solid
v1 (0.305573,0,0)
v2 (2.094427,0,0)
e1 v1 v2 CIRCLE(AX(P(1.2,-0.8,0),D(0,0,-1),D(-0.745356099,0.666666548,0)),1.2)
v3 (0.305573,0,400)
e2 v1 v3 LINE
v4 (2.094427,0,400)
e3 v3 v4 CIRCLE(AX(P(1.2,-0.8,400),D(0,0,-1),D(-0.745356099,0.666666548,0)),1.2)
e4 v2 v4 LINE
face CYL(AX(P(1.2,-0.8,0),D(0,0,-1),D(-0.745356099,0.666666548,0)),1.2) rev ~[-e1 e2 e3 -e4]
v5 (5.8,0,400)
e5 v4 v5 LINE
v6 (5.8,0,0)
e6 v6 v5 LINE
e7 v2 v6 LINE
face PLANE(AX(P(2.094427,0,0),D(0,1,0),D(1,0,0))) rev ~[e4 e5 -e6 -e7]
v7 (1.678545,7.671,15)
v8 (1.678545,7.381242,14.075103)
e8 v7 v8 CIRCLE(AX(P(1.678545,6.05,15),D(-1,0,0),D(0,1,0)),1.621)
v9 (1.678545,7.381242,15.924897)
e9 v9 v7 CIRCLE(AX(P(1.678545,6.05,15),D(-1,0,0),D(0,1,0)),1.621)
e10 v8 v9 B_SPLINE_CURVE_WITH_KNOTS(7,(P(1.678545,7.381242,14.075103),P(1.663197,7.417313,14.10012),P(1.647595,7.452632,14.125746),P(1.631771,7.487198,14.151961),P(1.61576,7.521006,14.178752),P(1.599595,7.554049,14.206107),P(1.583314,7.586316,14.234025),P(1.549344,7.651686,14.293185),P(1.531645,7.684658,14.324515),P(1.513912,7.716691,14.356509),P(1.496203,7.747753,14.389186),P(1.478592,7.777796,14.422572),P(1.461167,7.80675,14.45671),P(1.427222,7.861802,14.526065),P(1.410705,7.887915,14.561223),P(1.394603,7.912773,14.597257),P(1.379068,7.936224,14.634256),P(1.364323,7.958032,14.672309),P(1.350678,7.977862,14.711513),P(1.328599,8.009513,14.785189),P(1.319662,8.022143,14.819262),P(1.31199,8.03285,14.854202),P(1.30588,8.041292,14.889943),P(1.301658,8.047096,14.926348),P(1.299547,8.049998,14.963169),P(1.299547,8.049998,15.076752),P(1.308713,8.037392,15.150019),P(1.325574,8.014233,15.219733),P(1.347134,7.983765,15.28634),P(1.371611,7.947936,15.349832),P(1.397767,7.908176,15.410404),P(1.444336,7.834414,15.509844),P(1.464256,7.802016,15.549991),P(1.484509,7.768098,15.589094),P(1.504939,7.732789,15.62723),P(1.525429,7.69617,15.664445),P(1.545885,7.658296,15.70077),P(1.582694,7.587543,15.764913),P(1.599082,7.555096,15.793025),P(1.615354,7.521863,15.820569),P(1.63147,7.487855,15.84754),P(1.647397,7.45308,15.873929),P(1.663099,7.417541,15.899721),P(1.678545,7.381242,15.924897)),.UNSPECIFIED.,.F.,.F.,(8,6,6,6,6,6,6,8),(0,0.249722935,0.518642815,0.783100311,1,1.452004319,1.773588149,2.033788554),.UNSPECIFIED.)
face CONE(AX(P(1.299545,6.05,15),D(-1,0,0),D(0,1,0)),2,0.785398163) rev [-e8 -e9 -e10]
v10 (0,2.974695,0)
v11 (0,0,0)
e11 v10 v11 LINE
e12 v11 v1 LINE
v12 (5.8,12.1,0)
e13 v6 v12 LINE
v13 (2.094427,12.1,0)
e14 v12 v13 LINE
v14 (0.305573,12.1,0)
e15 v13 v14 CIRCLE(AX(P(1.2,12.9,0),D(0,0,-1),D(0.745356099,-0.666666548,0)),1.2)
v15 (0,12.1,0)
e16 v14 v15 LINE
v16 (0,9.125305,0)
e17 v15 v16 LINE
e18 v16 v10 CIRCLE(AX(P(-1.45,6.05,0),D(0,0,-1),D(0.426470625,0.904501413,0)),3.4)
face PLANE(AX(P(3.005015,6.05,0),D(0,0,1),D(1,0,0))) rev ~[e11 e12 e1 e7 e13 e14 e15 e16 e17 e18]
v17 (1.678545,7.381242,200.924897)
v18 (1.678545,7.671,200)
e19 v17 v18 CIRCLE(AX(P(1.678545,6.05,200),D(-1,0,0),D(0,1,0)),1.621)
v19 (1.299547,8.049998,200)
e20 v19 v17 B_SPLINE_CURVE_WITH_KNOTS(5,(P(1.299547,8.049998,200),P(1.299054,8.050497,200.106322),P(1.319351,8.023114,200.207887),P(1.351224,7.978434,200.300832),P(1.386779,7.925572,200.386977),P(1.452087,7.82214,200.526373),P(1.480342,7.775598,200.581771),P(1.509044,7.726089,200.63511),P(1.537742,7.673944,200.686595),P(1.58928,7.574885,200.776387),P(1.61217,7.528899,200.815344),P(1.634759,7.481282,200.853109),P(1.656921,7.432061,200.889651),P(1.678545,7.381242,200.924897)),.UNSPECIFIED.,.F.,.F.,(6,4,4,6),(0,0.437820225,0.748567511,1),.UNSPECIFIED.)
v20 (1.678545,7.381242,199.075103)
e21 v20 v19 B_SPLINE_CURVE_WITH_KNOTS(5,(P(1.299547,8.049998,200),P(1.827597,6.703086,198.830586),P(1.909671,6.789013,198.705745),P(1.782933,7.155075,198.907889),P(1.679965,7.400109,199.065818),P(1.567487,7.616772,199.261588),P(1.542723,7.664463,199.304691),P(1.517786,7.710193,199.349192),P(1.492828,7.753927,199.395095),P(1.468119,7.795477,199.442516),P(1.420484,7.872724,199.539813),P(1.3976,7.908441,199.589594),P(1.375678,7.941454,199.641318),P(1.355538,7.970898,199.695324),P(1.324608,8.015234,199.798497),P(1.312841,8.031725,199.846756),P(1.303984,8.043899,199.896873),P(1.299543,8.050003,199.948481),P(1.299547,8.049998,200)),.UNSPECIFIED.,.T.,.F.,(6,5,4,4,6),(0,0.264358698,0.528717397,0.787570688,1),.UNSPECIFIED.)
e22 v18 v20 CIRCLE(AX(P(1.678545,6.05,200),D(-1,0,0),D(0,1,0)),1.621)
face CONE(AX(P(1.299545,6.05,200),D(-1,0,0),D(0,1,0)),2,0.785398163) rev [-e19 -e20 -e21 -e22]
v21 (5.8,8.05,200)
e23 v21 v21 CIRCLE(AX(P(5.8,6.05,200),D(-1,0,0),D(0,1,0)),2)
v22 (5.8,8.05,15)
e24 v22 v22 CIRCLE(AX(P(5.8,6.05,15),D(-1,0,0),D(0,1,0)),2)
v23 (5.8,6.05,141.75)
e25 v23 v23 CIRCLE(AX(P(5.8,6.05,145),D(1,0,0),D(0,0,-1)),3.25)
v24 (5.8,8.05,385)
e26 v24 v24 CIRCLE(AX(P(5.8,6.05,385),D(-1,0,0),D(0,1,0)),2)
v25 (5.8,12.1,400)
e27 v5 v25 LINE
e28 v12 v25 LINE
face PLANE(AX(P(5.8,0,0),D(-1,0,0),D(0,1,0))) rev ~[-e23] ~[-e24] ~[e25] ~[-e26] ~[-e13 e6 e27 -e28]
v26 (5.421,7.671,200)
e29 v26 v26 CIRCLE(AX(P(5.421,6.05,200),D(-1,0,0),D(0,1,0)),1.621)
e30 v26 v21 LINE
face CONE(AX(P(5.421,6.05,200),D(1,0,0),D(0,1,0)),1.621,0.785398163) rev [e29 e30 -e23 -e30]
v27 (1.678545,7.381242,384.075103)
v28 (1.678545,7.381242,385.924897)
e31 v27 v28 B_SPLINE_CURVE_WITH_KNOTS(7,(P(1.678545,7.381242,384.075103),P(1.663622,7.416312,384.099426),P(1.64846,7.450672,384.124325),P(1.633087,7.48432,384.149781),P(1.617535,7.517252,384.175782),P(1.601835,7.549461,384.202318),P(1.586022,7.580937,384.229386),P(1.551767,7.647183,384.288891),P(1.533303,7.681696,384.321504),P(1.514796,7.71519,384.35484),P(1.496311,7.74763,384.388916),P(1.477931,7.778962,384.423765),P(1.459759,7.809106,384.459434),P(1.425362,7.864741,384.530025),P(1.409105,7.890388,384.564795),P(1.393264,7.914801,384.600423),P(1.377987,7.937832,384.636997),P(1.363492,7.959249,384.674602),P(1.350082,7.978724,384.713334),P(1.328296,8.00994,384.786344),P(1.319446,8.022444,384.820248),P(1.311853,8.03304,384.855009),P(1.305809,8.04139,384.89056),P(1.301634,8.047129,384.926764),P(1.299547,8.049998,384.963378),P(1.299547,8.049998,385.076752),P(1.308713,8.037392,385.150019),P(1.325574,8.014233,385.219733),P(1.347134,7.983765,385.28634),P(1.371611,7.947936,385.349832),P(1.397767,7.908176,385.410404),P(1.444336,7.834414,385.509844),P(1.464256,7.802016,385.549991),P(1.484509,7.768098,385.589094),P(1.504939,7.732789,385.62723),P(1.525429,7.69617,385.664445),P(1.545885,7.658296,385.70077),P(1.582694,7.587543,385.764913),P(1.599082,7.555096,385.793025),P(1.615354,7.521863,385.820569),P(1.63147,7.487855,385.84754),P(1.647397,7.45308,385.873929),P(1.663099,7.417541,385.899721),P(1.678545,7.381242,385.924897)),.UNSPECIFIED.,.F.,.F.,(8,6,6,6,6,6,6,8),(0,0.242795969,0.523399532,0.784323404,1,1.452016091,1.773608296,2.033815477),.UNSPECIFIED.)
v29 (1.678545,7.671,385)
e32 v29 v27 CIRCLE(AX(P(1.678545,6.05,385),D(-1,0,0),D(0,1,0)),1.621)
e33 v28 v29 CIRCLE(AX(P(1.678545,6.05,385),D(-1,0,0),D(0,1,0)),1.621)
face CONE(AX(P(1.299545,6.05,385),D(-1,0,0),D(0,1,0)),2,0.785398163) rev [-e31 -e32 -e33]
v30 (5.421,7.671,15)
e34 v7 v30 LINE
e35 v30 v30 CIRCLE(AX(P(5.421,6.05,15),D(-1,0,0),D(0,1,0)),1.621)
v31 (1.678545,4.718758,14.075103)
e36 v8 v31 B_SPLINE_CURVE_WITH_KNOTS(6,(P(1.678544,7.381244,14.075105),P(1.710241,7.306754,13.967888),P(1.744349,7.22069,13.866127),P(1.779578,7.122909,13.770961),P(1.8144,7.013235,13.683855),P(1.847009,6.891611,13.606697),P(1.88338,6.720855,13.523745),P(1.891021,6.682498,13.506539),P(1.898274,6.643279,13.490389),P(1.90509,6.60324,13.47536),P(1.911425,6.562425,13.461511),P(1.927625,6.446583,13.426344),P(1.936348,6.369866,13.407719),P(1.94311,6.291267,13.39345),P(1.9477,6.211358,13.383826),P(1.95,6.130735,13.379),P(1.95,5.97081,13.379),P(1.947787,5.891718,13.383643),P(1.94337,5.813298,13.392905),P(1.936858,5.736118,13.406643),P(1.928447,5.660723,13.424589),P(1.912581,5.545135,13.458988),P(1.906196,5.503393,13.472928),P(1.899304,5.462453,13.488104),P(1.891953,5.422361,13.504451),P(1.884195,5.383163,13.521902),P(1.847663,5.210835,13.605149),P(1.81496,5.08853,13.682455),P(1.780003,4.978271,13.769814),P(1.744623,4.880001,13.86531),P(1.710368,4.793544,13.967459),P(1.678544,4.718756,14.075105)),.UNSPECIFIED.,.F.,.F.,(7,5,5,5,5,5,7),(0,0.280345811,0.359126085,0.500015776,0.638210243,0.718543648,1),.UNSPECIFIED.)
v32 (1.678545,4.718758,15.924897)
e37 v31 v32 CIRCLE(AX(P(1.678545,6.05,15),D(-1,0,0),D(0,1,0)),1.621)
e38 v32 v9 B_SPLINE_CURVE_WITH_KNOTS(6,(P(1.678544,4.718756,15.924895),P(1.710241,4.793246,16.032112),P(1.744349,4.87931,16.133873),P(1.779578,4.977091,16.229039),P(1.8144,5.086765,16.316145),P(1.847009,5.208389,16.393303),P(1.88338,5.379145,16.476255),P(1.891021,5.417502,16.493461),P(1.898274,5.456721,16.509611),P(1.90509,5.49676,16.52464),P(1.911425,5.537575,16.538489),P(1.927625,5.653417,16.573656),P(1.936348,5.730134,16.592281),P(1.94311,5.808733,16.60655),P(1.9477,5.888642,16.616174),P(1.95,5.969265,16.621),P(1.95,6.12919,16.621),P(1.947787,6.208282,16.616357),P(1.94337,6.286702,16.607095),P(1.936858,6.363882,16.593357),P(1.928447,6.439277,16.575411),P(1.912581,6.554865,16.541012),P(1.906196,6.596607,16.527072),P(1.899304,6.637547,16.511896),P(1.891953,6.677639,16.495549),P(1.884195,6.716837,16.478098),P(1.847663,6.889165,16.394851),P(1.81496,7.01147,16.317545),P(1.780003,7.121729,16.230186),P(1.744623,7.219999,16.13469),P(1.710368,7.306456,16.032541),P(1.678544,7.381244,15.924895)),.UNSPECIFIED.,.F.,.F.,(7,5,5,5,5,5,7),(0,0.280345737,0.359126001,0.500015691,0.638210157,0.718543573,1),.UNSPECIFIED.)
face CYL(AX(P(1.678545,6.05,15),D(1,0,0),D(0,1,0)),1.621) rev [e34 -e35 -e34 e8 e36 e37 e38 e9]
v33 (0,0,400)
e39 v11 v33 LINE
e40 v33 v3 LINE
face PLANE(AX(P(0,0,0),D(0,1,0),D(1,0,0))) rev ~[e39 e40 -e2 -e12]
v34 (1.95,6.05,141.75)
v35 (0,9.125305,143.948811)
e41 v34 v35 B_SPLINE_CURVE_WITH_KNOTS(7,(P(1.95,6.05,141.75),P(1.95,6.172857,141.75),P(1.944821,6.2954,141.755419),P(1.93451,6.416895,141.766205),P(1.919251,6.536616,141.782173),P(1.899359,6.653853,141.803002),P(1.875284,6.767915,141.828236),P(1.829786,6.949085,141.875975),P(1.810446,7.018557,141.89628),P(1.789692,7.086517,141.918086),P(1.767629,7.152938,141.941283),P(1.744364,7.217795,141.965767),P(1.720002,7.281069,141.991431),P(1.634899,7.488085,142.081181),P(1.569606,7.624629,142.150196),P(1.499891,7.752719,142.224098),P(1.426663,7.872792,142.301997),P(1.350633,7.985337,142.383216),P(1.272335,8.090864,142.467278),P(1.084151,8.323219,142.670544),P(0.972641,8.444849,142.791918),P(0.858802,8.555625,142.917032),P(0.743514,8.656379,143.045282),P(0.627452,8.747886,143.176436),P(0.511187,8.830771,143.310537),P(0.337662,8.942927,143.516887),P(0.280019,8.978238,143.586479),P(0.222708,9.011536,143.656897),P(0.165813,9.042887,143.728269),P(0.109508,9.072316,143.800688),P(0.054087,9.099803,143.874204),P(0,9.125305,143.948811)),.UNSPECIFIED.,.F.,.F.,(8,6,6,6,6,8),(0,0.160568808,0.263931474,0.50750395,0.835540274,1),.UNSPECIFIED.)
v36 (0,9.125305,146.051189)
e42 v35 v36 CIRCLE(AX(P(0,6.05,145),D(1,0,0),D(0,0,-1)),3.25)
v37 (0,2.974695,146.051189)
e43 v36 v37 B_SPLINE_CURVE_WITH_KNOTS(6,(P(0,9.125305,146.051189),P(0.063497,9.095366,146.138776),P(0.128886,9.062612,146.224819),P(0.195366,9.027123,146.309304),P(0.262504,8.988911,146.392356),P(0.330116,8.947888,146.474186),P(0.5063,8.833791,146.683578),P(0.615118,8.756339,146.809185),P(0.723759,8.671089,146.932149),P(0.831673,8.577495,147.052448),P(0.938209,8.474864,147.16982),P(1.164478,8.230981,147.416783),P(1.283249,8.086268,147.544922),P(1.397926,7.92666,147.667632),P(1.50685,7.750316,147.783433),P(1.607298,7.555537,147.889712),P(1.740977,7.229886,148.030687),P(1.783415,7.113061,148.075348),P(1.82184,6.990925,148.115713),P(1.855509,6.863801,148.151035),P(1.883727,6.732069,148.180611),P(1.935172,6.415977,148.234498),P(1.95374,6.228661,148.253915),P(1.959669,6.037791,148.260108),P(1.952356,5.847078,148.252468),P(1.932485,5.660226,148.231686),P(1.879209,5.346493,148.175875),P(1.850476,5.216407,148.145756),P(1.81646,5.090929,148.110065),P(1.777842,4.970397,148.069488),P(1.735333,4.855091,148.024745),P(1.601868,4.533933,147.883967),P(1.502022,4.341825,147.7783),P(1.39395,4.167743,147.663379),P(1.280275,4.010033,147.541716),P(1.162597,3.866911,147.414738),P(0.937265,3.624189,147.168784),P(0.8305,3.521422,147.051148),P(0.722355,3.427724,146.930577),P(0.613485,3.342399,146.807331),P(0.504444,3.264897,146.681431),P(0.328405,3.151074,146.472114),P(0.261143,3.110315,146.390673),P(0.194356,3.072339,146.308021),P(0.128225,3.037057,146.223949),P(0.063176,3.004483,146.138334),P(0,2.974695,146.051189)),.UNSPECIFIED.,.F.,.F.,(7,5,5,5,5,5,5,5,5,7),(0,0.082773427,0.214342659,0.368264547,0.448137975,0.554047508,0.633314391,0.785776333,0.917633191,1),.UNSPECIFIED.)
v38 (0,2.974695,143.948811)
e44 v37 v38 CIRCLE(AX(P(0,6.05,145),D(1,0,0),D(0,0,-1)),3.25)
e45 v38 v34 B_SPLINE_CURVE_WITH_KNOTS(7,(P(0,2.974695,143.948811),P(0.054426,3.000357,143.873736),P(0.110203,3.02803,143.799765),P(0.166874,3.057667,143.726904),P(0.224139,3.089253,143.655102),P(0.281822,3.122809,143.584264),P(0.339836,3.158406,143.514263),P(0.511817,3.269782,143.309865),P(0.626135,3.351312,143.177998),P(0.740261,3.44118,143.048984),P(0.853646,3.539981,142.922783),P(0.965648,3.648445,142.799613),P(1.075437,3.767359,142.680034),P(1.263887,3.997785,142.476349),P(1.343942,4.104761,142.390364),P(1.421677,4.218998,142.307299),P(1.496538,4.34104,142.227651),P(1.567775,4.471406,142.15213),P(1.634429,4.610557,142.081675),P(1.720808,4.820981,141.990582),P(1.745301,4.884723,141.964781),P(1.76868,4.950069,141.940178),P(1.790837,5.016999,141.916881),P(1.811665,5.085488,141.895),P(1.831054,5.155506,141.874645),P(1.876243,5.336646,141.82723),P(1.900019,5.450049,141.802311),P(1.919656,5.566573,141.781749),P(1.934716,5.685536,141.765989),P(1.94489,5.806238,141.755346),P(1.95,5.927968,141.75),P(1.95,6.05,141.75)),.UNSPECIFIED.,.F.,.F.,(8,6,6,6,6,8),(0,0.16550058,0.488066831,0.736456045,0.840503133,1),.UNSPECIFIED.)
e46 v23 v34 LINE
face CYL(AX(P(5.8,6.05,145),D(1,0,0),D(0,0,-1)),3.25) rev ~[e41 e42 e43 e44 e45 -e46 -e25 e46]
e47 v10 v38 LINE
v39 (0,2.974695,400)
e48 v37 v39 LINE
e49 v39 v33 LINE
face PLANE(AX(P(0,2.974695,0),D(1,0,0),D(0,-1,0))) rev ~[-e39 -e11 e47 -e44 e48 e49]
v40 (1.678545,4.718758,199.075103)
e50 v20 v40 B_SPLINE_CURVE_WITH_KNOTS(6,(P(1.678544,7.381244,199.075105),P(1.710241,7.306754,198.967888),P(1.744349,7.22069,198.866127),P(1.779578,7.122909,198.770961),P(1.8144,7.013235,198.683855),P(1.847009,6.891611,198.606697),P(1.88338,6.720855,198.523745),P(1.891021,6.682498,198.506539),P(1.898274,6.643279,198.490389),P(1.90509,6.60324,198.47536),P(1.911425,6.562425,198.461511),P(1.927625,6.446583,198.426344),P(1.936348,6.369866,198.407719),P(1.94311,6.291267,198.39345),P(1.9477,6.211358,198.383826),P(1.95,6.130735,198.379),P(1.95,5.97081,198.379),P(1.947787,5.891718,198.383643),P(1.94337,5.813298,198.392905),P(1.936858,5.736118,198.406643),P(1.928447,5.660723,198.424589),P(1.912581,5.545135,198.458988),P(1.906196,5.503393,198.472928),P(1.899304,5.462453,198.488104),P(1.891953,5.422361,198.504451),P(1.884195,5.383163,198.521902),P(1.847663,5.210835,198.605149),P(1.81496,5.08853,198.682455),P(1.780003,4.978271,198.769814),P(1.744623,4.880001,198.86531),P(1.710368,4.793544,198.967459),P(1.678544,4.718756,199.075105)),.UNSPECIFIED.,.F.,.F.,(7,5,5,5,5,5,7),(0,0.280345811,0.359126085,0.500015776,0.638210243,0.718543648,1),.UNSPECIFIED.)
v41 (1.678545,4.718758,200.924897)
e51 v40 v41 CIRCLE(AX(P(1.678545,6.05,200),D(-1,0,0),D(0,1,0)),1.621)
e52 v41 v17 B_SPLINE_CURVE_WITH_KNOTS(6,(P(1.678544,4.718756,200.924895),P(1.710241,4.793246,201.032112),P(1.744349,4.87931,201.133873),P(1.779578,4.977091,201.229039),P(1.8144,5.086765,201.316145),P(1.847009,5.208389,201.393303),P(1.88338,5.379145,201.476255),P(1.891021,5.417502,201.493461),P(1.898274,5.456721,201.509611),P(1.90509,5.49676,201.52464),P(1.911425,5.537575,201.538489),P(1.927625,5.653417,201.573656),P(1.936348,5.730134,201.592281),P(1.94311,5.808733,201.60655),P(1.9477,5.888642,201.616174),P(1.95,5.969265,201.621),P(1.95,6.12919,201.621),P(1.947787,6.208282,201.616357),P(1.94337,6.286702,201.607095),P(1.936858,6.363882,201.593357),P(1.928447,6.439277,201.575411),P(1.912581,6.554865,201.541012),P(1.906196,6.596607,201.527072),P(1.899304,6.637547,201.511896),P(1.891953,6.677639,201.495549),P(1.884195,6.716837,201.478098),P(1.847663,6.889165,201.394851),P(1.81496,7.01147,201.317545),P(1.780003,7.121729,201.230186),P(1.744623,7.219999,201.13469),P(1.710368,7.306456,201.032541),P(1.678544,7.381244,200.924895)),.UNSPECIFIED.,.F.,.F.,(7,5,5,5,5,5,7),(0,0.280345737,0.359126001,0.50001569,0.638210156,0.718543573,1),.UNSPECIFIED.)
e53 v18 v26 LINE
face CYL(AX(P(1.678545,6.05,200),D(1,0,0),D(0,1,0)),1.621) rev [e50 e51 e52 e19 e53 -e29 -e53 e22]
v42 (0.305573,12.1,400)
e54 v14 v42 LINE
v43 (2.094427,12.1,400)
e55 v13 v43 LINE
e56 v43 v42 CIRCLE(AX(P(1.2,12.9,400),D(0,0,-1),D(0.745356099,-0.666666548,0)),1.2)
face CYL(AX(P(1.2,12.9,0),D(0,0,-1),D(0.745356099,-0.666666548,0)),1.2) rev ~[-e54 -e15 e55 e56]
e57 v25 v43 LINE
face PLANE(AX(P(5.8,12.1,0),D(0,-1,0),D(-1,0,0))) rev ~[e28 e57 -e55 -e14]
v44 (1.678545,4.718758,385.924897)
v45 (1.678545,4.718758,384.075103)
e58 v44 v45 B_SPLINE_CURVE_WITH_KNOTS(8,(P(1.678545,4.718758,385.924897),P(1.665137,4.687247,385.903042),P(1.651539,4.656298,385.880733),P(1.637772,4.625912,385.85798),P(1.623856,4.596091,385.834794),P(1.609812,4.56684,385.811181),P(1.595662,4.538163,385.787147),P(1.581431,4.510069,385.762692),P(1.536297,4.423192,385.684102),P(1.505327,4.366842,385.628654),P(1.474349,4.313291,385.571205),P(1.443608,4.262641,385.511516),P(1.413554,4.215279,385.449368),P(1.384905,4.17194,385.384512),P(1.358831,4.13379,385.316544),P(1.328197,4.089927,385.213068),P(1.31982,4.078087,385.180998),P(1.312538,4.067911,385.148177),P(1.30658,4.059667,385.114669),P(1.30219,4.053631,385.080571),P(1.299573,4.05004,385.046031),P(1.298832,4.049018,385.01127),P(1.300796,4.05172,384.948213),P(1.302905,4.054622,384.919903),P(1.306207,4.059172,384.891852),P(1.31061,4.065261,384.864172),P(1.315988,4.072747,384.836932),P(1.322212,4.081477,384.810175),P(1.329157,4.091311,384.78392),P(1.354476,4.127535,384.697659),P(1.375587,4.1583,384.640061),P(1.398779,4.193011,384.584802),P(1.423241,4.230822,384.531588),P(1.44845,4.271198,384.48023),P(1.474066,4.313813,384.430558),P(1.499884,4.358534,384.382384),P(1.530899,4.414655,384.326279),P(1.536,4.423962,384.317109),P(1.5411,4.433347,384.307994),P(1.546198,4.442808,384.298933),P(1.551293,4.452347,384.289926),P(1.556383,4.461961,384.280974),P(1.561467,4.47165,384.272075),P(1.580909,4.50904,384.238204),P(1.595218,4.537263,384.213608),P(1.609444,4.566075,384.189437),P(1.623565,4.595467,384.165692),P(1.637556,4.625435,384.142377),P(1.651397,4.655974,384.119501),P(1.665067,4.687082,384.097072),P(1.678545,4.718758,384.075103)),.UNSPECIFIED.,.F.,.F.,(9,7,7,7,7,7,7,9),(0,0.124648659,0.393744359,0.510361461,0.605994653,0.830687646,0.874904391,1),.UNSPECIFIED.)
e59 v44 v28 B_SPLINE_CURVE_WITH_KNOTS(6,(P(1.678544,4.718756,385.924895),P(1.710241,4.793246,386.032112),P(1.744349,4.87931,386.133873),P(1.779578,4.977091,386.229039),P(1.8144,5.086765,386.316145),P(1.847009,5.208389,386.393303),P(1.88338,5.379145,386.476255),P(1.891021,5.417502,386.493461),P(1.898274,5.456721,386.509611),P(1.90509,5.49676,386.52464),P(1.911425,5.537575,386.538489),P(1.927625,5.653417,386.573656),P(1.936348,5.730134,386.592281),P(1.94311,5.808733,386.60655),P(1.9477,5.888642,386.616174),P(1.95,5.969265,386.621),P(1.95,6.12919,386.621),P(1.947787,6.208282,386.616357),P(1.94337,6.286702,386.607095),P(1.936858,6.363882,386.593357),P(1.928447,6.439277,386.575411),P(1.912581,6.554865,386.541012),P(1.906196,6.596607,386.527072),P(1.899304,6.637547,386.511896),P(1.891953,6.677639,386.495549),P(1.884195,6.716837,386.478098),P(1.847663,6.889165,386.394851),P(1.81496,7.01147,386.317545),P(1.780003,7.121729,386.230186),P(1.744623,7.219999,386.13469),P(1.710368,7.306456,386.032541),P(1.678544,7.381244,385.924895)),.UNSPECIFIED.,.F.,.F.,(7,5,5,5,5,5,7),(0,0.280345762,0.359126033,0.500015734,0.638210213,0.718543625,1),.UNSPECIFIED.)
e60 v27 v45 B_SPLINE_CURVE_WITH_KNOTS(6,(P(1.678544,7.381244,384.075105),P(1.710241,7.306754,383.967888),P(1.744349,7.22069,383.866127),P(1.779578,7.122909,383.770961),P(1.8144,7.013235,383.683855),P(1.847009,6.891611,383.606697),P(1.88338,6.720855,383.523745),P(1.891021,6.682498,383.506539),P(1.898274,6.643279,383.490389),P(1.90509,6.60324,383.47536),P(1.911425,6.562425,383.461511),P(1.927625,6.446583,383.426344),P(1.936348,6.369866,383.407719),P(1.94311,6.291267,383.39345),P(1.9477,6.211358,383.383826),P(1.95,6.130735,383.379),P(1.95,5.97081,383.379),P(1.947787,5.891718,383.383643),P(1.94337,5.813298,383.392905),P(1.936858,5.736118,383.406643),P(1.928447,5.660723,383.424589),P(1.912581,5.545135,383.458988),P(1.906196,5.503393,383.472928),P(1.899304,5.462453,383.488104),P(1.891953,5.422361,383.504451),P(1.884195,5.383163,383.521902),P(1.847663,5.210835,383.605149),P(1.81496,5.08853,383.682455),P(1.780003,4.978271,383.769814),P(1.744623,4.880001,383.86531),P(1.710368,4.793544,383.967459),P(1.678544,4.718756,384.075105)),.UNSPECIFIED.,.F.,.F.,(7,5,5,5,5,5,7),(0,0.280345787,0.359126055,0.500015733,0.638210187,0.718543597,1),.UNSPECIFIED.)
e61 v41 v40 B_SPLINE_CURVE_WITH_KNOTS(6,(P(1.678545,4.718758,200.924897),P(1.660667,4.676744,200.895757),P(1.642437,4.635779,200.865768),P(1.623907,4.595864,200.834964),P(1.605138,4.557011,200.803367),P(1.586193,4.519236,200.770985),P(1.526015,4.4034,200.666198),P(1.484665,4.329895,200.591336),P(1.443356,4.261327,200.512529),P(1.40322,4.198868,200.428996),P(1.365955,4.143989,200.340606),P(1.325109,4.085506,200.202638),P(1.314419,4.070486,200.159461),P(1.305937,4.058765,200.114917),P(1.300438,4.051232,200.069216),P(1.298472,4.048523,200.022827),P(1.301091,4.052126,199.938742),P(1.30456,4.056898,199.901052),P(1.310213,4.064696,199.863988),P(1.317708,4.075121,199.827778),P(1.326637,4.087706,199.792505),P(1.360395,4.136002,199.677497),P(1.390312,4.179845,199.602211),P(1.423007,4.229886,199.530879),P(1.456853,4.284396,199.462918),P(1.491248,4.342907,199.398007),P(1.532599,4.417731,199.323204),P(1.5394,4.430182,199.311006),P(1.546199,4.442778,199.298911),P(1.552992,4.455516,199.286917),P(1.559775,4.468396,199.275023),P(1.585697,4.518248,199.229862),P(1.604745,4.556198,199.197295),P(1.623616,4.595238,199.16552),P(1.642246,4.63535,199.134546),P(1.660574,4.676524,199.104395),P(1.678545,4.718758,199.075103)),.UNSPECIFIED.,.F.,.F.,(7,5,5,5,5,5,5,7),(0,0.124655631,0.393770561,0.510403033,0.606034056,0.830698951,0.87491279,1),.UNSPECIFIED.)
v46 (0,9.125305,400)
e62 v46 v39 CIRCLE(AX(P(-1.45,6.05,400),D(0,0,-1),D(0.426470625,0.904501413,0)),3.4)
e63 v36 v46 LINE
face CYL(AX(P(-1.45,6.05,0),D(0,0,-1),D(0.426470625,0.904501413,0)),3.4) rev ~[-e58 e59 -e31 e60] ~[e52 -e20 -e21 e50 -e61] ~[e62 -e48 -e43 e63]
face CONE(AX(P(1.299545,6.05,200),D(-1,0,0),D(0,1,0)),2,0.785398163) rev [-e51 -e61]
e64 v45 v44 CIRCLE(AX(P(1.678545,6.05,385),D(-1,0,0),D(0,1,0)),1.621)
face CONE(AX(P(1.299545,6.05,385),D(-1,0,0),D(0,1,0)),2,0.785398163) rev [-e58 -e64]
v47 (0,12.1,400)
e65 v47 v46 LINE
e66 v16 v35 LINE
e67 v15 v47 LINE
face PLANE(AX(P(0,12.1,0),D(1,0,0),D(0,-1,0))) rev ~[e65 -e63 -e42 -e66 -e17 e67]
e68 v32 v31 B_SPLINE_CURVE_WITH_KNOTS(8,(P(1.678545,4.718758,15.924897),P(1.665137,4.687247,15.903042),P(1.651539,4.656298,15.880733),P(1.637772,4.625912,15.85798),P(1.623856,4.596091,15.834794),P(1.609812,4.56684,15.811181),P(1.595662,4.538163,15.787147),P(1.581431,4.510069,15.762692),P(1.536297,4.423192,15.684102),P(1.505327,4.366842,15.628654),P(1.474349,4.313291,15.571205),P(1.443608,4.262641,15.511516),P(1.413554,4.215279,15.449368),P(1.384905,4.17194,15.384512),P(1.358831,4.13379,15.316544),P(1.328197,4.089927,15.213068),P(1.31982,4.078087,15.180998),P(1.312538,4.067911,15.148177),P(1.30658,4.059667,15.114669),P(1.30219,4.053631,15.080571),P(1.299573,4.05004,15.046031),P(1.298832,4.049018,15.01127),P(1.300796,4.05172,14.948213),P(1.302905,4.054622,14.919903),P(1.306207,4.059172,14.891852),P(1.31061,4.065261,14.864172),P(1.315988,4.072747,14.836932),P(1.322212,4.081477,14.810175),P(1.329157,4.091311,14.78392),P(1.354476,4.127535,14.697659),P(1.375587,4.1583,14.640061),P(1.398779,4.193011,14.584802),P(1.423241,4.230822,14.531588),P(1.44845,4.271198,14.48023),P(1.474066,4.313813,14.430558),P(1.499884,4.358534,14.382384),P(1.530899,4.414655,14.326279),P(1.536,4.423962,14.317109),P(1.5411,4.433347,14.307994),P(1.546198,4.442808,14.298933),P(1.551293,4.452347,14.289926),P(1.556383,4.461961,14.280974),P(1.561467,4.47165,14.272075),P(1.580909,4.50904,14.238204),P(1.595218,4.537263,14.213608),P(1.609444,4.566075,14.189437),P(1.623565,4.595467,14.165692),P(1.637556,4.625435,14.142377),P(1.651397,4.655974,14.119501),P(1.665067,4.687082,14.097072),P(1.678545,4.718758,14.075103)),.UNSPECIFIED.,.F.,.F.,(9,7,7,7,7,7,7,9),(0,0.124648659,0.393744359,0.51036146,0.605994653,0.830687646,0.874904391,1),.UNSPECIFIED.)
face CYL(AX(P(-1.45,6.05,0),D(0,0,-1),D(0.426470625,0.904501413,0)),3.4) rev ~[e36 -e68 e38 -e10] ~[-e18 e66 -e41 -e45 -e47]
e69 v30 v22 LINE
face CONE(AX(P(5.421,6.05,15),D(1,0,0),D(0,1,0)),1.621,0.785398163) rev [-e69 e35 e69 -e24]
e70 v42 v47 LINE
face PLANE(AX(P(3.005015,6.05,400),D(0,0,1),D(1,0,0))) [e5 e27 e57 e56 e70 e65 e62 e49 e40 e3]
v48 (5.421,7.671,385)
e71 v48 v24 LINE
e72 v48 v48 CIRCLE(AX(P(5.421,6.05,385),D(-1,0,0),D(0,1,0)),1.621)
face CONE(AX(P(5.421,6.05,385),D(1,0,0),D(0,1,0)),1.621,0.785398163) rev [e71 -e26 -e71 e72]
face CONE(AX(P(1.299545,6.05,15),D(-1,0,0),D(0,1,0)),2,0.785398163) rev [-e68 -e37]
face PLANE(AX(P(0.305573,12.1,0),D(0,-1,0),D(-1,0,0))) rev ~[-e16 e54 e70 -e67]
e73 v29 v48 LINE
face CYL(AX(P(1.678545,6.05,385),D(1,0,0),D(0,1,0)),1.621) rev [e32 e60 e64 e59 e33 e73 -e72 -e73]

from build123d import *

# Parameters (mm, degrees)
BOSS_EXTRUDE1_DEPTH = 400
SKETCH5_R           = 3.25
CUT_EXTRUDE1_DEPTH  = 6


with BuildPart() as part:
    # Sketch1 → Boss-Extrude1 (new body)
    with BuildSketch(Plane.XY):
        with BuildLine():
            Line((0, 2.974695), (0, 0))
            Line((0, 0), (0.305573, 0))
            ThreePointArc((0.305573, 0), (1.2, 0.4), (2.094427, 0))
            Line((2.094427, 0), (5.8, 0))
            Line((5.8, 0), (5.8, 12.1))
            Line((5.8, 12.1), (2.094427, 12.1))
            ThreePointArc((2.094427, 12.1), (1.2, 11.7), (0.305573, 12.1))
            Line((0.305573, 12.1), (0, 12.1))
            Line((0, 12.1), (0, 9.125305))
            ThreePointArc((0, 9.125305), (1.95, 6.05), (0, 2.974695))
        make_face()
    extrude(amount=BOSS_EXTRUDE1_DEPTH)

    # Sketch2 → Cut-Revolve1 (revolve, cut)
    with BuildSketch(Plane.XY.offset(15)):
        Polygon((1.299545, 6.05), (1.299545, 8.05), (1.678545, 7.671), (5.421, 7.671), (5.8, 8.05), (5.8, 6.05), align=None)
    revolve(axis=Axis((5.8, 6.05, 15), (-1, 0, 0)), mode=Mode.SUBTRACT)

    # Sketch3 → Cut-Revolve2 (revolve, cut)
    with BuildSketch(Plane.XY.offset(385)):
        Polygon((1.299545, 6.05), (1.299545, 8.05), (1.678545, 7.671), (5.421, 7.671), (5.8, 8.05), (5.8, 6.05), align=None)
    revolve(axis=Axis((5.8, 6.05, 385), (-1, 0, 0)), mode=Mode.SUBTRACT)

    # Sketch4 → Cut-Revolve3 (revolve, cut)
    with BuildSketch(Plane.XY.offset(200)):
        Polygon((1.299545, 6.05), (1.299545, 8.05), (1.678545, 7.671), (5.421, 7.671), (5.8, 8.05), (5.8, 6.05), align=None)
    revolve(axis=Axis((5.8, 6.05, 200), (-1, 0, 0)), mode=Mode.SUBTRACT)

    # Sketch5 → Cut-Extrude1 (cut)
    with BuildSketch(Plane(origin=(5.8, 0, 0), x_dir=(0, 0, -1), z_dir=(1, 0, 0))):
        with Locations((-145, 6.05)):
            Circle(SKETCH5_R)
    extrude(amount=-CUT_EXTRUDE1_DEPTH, mode=Mode.SUBTRACT)


solid = part.part
